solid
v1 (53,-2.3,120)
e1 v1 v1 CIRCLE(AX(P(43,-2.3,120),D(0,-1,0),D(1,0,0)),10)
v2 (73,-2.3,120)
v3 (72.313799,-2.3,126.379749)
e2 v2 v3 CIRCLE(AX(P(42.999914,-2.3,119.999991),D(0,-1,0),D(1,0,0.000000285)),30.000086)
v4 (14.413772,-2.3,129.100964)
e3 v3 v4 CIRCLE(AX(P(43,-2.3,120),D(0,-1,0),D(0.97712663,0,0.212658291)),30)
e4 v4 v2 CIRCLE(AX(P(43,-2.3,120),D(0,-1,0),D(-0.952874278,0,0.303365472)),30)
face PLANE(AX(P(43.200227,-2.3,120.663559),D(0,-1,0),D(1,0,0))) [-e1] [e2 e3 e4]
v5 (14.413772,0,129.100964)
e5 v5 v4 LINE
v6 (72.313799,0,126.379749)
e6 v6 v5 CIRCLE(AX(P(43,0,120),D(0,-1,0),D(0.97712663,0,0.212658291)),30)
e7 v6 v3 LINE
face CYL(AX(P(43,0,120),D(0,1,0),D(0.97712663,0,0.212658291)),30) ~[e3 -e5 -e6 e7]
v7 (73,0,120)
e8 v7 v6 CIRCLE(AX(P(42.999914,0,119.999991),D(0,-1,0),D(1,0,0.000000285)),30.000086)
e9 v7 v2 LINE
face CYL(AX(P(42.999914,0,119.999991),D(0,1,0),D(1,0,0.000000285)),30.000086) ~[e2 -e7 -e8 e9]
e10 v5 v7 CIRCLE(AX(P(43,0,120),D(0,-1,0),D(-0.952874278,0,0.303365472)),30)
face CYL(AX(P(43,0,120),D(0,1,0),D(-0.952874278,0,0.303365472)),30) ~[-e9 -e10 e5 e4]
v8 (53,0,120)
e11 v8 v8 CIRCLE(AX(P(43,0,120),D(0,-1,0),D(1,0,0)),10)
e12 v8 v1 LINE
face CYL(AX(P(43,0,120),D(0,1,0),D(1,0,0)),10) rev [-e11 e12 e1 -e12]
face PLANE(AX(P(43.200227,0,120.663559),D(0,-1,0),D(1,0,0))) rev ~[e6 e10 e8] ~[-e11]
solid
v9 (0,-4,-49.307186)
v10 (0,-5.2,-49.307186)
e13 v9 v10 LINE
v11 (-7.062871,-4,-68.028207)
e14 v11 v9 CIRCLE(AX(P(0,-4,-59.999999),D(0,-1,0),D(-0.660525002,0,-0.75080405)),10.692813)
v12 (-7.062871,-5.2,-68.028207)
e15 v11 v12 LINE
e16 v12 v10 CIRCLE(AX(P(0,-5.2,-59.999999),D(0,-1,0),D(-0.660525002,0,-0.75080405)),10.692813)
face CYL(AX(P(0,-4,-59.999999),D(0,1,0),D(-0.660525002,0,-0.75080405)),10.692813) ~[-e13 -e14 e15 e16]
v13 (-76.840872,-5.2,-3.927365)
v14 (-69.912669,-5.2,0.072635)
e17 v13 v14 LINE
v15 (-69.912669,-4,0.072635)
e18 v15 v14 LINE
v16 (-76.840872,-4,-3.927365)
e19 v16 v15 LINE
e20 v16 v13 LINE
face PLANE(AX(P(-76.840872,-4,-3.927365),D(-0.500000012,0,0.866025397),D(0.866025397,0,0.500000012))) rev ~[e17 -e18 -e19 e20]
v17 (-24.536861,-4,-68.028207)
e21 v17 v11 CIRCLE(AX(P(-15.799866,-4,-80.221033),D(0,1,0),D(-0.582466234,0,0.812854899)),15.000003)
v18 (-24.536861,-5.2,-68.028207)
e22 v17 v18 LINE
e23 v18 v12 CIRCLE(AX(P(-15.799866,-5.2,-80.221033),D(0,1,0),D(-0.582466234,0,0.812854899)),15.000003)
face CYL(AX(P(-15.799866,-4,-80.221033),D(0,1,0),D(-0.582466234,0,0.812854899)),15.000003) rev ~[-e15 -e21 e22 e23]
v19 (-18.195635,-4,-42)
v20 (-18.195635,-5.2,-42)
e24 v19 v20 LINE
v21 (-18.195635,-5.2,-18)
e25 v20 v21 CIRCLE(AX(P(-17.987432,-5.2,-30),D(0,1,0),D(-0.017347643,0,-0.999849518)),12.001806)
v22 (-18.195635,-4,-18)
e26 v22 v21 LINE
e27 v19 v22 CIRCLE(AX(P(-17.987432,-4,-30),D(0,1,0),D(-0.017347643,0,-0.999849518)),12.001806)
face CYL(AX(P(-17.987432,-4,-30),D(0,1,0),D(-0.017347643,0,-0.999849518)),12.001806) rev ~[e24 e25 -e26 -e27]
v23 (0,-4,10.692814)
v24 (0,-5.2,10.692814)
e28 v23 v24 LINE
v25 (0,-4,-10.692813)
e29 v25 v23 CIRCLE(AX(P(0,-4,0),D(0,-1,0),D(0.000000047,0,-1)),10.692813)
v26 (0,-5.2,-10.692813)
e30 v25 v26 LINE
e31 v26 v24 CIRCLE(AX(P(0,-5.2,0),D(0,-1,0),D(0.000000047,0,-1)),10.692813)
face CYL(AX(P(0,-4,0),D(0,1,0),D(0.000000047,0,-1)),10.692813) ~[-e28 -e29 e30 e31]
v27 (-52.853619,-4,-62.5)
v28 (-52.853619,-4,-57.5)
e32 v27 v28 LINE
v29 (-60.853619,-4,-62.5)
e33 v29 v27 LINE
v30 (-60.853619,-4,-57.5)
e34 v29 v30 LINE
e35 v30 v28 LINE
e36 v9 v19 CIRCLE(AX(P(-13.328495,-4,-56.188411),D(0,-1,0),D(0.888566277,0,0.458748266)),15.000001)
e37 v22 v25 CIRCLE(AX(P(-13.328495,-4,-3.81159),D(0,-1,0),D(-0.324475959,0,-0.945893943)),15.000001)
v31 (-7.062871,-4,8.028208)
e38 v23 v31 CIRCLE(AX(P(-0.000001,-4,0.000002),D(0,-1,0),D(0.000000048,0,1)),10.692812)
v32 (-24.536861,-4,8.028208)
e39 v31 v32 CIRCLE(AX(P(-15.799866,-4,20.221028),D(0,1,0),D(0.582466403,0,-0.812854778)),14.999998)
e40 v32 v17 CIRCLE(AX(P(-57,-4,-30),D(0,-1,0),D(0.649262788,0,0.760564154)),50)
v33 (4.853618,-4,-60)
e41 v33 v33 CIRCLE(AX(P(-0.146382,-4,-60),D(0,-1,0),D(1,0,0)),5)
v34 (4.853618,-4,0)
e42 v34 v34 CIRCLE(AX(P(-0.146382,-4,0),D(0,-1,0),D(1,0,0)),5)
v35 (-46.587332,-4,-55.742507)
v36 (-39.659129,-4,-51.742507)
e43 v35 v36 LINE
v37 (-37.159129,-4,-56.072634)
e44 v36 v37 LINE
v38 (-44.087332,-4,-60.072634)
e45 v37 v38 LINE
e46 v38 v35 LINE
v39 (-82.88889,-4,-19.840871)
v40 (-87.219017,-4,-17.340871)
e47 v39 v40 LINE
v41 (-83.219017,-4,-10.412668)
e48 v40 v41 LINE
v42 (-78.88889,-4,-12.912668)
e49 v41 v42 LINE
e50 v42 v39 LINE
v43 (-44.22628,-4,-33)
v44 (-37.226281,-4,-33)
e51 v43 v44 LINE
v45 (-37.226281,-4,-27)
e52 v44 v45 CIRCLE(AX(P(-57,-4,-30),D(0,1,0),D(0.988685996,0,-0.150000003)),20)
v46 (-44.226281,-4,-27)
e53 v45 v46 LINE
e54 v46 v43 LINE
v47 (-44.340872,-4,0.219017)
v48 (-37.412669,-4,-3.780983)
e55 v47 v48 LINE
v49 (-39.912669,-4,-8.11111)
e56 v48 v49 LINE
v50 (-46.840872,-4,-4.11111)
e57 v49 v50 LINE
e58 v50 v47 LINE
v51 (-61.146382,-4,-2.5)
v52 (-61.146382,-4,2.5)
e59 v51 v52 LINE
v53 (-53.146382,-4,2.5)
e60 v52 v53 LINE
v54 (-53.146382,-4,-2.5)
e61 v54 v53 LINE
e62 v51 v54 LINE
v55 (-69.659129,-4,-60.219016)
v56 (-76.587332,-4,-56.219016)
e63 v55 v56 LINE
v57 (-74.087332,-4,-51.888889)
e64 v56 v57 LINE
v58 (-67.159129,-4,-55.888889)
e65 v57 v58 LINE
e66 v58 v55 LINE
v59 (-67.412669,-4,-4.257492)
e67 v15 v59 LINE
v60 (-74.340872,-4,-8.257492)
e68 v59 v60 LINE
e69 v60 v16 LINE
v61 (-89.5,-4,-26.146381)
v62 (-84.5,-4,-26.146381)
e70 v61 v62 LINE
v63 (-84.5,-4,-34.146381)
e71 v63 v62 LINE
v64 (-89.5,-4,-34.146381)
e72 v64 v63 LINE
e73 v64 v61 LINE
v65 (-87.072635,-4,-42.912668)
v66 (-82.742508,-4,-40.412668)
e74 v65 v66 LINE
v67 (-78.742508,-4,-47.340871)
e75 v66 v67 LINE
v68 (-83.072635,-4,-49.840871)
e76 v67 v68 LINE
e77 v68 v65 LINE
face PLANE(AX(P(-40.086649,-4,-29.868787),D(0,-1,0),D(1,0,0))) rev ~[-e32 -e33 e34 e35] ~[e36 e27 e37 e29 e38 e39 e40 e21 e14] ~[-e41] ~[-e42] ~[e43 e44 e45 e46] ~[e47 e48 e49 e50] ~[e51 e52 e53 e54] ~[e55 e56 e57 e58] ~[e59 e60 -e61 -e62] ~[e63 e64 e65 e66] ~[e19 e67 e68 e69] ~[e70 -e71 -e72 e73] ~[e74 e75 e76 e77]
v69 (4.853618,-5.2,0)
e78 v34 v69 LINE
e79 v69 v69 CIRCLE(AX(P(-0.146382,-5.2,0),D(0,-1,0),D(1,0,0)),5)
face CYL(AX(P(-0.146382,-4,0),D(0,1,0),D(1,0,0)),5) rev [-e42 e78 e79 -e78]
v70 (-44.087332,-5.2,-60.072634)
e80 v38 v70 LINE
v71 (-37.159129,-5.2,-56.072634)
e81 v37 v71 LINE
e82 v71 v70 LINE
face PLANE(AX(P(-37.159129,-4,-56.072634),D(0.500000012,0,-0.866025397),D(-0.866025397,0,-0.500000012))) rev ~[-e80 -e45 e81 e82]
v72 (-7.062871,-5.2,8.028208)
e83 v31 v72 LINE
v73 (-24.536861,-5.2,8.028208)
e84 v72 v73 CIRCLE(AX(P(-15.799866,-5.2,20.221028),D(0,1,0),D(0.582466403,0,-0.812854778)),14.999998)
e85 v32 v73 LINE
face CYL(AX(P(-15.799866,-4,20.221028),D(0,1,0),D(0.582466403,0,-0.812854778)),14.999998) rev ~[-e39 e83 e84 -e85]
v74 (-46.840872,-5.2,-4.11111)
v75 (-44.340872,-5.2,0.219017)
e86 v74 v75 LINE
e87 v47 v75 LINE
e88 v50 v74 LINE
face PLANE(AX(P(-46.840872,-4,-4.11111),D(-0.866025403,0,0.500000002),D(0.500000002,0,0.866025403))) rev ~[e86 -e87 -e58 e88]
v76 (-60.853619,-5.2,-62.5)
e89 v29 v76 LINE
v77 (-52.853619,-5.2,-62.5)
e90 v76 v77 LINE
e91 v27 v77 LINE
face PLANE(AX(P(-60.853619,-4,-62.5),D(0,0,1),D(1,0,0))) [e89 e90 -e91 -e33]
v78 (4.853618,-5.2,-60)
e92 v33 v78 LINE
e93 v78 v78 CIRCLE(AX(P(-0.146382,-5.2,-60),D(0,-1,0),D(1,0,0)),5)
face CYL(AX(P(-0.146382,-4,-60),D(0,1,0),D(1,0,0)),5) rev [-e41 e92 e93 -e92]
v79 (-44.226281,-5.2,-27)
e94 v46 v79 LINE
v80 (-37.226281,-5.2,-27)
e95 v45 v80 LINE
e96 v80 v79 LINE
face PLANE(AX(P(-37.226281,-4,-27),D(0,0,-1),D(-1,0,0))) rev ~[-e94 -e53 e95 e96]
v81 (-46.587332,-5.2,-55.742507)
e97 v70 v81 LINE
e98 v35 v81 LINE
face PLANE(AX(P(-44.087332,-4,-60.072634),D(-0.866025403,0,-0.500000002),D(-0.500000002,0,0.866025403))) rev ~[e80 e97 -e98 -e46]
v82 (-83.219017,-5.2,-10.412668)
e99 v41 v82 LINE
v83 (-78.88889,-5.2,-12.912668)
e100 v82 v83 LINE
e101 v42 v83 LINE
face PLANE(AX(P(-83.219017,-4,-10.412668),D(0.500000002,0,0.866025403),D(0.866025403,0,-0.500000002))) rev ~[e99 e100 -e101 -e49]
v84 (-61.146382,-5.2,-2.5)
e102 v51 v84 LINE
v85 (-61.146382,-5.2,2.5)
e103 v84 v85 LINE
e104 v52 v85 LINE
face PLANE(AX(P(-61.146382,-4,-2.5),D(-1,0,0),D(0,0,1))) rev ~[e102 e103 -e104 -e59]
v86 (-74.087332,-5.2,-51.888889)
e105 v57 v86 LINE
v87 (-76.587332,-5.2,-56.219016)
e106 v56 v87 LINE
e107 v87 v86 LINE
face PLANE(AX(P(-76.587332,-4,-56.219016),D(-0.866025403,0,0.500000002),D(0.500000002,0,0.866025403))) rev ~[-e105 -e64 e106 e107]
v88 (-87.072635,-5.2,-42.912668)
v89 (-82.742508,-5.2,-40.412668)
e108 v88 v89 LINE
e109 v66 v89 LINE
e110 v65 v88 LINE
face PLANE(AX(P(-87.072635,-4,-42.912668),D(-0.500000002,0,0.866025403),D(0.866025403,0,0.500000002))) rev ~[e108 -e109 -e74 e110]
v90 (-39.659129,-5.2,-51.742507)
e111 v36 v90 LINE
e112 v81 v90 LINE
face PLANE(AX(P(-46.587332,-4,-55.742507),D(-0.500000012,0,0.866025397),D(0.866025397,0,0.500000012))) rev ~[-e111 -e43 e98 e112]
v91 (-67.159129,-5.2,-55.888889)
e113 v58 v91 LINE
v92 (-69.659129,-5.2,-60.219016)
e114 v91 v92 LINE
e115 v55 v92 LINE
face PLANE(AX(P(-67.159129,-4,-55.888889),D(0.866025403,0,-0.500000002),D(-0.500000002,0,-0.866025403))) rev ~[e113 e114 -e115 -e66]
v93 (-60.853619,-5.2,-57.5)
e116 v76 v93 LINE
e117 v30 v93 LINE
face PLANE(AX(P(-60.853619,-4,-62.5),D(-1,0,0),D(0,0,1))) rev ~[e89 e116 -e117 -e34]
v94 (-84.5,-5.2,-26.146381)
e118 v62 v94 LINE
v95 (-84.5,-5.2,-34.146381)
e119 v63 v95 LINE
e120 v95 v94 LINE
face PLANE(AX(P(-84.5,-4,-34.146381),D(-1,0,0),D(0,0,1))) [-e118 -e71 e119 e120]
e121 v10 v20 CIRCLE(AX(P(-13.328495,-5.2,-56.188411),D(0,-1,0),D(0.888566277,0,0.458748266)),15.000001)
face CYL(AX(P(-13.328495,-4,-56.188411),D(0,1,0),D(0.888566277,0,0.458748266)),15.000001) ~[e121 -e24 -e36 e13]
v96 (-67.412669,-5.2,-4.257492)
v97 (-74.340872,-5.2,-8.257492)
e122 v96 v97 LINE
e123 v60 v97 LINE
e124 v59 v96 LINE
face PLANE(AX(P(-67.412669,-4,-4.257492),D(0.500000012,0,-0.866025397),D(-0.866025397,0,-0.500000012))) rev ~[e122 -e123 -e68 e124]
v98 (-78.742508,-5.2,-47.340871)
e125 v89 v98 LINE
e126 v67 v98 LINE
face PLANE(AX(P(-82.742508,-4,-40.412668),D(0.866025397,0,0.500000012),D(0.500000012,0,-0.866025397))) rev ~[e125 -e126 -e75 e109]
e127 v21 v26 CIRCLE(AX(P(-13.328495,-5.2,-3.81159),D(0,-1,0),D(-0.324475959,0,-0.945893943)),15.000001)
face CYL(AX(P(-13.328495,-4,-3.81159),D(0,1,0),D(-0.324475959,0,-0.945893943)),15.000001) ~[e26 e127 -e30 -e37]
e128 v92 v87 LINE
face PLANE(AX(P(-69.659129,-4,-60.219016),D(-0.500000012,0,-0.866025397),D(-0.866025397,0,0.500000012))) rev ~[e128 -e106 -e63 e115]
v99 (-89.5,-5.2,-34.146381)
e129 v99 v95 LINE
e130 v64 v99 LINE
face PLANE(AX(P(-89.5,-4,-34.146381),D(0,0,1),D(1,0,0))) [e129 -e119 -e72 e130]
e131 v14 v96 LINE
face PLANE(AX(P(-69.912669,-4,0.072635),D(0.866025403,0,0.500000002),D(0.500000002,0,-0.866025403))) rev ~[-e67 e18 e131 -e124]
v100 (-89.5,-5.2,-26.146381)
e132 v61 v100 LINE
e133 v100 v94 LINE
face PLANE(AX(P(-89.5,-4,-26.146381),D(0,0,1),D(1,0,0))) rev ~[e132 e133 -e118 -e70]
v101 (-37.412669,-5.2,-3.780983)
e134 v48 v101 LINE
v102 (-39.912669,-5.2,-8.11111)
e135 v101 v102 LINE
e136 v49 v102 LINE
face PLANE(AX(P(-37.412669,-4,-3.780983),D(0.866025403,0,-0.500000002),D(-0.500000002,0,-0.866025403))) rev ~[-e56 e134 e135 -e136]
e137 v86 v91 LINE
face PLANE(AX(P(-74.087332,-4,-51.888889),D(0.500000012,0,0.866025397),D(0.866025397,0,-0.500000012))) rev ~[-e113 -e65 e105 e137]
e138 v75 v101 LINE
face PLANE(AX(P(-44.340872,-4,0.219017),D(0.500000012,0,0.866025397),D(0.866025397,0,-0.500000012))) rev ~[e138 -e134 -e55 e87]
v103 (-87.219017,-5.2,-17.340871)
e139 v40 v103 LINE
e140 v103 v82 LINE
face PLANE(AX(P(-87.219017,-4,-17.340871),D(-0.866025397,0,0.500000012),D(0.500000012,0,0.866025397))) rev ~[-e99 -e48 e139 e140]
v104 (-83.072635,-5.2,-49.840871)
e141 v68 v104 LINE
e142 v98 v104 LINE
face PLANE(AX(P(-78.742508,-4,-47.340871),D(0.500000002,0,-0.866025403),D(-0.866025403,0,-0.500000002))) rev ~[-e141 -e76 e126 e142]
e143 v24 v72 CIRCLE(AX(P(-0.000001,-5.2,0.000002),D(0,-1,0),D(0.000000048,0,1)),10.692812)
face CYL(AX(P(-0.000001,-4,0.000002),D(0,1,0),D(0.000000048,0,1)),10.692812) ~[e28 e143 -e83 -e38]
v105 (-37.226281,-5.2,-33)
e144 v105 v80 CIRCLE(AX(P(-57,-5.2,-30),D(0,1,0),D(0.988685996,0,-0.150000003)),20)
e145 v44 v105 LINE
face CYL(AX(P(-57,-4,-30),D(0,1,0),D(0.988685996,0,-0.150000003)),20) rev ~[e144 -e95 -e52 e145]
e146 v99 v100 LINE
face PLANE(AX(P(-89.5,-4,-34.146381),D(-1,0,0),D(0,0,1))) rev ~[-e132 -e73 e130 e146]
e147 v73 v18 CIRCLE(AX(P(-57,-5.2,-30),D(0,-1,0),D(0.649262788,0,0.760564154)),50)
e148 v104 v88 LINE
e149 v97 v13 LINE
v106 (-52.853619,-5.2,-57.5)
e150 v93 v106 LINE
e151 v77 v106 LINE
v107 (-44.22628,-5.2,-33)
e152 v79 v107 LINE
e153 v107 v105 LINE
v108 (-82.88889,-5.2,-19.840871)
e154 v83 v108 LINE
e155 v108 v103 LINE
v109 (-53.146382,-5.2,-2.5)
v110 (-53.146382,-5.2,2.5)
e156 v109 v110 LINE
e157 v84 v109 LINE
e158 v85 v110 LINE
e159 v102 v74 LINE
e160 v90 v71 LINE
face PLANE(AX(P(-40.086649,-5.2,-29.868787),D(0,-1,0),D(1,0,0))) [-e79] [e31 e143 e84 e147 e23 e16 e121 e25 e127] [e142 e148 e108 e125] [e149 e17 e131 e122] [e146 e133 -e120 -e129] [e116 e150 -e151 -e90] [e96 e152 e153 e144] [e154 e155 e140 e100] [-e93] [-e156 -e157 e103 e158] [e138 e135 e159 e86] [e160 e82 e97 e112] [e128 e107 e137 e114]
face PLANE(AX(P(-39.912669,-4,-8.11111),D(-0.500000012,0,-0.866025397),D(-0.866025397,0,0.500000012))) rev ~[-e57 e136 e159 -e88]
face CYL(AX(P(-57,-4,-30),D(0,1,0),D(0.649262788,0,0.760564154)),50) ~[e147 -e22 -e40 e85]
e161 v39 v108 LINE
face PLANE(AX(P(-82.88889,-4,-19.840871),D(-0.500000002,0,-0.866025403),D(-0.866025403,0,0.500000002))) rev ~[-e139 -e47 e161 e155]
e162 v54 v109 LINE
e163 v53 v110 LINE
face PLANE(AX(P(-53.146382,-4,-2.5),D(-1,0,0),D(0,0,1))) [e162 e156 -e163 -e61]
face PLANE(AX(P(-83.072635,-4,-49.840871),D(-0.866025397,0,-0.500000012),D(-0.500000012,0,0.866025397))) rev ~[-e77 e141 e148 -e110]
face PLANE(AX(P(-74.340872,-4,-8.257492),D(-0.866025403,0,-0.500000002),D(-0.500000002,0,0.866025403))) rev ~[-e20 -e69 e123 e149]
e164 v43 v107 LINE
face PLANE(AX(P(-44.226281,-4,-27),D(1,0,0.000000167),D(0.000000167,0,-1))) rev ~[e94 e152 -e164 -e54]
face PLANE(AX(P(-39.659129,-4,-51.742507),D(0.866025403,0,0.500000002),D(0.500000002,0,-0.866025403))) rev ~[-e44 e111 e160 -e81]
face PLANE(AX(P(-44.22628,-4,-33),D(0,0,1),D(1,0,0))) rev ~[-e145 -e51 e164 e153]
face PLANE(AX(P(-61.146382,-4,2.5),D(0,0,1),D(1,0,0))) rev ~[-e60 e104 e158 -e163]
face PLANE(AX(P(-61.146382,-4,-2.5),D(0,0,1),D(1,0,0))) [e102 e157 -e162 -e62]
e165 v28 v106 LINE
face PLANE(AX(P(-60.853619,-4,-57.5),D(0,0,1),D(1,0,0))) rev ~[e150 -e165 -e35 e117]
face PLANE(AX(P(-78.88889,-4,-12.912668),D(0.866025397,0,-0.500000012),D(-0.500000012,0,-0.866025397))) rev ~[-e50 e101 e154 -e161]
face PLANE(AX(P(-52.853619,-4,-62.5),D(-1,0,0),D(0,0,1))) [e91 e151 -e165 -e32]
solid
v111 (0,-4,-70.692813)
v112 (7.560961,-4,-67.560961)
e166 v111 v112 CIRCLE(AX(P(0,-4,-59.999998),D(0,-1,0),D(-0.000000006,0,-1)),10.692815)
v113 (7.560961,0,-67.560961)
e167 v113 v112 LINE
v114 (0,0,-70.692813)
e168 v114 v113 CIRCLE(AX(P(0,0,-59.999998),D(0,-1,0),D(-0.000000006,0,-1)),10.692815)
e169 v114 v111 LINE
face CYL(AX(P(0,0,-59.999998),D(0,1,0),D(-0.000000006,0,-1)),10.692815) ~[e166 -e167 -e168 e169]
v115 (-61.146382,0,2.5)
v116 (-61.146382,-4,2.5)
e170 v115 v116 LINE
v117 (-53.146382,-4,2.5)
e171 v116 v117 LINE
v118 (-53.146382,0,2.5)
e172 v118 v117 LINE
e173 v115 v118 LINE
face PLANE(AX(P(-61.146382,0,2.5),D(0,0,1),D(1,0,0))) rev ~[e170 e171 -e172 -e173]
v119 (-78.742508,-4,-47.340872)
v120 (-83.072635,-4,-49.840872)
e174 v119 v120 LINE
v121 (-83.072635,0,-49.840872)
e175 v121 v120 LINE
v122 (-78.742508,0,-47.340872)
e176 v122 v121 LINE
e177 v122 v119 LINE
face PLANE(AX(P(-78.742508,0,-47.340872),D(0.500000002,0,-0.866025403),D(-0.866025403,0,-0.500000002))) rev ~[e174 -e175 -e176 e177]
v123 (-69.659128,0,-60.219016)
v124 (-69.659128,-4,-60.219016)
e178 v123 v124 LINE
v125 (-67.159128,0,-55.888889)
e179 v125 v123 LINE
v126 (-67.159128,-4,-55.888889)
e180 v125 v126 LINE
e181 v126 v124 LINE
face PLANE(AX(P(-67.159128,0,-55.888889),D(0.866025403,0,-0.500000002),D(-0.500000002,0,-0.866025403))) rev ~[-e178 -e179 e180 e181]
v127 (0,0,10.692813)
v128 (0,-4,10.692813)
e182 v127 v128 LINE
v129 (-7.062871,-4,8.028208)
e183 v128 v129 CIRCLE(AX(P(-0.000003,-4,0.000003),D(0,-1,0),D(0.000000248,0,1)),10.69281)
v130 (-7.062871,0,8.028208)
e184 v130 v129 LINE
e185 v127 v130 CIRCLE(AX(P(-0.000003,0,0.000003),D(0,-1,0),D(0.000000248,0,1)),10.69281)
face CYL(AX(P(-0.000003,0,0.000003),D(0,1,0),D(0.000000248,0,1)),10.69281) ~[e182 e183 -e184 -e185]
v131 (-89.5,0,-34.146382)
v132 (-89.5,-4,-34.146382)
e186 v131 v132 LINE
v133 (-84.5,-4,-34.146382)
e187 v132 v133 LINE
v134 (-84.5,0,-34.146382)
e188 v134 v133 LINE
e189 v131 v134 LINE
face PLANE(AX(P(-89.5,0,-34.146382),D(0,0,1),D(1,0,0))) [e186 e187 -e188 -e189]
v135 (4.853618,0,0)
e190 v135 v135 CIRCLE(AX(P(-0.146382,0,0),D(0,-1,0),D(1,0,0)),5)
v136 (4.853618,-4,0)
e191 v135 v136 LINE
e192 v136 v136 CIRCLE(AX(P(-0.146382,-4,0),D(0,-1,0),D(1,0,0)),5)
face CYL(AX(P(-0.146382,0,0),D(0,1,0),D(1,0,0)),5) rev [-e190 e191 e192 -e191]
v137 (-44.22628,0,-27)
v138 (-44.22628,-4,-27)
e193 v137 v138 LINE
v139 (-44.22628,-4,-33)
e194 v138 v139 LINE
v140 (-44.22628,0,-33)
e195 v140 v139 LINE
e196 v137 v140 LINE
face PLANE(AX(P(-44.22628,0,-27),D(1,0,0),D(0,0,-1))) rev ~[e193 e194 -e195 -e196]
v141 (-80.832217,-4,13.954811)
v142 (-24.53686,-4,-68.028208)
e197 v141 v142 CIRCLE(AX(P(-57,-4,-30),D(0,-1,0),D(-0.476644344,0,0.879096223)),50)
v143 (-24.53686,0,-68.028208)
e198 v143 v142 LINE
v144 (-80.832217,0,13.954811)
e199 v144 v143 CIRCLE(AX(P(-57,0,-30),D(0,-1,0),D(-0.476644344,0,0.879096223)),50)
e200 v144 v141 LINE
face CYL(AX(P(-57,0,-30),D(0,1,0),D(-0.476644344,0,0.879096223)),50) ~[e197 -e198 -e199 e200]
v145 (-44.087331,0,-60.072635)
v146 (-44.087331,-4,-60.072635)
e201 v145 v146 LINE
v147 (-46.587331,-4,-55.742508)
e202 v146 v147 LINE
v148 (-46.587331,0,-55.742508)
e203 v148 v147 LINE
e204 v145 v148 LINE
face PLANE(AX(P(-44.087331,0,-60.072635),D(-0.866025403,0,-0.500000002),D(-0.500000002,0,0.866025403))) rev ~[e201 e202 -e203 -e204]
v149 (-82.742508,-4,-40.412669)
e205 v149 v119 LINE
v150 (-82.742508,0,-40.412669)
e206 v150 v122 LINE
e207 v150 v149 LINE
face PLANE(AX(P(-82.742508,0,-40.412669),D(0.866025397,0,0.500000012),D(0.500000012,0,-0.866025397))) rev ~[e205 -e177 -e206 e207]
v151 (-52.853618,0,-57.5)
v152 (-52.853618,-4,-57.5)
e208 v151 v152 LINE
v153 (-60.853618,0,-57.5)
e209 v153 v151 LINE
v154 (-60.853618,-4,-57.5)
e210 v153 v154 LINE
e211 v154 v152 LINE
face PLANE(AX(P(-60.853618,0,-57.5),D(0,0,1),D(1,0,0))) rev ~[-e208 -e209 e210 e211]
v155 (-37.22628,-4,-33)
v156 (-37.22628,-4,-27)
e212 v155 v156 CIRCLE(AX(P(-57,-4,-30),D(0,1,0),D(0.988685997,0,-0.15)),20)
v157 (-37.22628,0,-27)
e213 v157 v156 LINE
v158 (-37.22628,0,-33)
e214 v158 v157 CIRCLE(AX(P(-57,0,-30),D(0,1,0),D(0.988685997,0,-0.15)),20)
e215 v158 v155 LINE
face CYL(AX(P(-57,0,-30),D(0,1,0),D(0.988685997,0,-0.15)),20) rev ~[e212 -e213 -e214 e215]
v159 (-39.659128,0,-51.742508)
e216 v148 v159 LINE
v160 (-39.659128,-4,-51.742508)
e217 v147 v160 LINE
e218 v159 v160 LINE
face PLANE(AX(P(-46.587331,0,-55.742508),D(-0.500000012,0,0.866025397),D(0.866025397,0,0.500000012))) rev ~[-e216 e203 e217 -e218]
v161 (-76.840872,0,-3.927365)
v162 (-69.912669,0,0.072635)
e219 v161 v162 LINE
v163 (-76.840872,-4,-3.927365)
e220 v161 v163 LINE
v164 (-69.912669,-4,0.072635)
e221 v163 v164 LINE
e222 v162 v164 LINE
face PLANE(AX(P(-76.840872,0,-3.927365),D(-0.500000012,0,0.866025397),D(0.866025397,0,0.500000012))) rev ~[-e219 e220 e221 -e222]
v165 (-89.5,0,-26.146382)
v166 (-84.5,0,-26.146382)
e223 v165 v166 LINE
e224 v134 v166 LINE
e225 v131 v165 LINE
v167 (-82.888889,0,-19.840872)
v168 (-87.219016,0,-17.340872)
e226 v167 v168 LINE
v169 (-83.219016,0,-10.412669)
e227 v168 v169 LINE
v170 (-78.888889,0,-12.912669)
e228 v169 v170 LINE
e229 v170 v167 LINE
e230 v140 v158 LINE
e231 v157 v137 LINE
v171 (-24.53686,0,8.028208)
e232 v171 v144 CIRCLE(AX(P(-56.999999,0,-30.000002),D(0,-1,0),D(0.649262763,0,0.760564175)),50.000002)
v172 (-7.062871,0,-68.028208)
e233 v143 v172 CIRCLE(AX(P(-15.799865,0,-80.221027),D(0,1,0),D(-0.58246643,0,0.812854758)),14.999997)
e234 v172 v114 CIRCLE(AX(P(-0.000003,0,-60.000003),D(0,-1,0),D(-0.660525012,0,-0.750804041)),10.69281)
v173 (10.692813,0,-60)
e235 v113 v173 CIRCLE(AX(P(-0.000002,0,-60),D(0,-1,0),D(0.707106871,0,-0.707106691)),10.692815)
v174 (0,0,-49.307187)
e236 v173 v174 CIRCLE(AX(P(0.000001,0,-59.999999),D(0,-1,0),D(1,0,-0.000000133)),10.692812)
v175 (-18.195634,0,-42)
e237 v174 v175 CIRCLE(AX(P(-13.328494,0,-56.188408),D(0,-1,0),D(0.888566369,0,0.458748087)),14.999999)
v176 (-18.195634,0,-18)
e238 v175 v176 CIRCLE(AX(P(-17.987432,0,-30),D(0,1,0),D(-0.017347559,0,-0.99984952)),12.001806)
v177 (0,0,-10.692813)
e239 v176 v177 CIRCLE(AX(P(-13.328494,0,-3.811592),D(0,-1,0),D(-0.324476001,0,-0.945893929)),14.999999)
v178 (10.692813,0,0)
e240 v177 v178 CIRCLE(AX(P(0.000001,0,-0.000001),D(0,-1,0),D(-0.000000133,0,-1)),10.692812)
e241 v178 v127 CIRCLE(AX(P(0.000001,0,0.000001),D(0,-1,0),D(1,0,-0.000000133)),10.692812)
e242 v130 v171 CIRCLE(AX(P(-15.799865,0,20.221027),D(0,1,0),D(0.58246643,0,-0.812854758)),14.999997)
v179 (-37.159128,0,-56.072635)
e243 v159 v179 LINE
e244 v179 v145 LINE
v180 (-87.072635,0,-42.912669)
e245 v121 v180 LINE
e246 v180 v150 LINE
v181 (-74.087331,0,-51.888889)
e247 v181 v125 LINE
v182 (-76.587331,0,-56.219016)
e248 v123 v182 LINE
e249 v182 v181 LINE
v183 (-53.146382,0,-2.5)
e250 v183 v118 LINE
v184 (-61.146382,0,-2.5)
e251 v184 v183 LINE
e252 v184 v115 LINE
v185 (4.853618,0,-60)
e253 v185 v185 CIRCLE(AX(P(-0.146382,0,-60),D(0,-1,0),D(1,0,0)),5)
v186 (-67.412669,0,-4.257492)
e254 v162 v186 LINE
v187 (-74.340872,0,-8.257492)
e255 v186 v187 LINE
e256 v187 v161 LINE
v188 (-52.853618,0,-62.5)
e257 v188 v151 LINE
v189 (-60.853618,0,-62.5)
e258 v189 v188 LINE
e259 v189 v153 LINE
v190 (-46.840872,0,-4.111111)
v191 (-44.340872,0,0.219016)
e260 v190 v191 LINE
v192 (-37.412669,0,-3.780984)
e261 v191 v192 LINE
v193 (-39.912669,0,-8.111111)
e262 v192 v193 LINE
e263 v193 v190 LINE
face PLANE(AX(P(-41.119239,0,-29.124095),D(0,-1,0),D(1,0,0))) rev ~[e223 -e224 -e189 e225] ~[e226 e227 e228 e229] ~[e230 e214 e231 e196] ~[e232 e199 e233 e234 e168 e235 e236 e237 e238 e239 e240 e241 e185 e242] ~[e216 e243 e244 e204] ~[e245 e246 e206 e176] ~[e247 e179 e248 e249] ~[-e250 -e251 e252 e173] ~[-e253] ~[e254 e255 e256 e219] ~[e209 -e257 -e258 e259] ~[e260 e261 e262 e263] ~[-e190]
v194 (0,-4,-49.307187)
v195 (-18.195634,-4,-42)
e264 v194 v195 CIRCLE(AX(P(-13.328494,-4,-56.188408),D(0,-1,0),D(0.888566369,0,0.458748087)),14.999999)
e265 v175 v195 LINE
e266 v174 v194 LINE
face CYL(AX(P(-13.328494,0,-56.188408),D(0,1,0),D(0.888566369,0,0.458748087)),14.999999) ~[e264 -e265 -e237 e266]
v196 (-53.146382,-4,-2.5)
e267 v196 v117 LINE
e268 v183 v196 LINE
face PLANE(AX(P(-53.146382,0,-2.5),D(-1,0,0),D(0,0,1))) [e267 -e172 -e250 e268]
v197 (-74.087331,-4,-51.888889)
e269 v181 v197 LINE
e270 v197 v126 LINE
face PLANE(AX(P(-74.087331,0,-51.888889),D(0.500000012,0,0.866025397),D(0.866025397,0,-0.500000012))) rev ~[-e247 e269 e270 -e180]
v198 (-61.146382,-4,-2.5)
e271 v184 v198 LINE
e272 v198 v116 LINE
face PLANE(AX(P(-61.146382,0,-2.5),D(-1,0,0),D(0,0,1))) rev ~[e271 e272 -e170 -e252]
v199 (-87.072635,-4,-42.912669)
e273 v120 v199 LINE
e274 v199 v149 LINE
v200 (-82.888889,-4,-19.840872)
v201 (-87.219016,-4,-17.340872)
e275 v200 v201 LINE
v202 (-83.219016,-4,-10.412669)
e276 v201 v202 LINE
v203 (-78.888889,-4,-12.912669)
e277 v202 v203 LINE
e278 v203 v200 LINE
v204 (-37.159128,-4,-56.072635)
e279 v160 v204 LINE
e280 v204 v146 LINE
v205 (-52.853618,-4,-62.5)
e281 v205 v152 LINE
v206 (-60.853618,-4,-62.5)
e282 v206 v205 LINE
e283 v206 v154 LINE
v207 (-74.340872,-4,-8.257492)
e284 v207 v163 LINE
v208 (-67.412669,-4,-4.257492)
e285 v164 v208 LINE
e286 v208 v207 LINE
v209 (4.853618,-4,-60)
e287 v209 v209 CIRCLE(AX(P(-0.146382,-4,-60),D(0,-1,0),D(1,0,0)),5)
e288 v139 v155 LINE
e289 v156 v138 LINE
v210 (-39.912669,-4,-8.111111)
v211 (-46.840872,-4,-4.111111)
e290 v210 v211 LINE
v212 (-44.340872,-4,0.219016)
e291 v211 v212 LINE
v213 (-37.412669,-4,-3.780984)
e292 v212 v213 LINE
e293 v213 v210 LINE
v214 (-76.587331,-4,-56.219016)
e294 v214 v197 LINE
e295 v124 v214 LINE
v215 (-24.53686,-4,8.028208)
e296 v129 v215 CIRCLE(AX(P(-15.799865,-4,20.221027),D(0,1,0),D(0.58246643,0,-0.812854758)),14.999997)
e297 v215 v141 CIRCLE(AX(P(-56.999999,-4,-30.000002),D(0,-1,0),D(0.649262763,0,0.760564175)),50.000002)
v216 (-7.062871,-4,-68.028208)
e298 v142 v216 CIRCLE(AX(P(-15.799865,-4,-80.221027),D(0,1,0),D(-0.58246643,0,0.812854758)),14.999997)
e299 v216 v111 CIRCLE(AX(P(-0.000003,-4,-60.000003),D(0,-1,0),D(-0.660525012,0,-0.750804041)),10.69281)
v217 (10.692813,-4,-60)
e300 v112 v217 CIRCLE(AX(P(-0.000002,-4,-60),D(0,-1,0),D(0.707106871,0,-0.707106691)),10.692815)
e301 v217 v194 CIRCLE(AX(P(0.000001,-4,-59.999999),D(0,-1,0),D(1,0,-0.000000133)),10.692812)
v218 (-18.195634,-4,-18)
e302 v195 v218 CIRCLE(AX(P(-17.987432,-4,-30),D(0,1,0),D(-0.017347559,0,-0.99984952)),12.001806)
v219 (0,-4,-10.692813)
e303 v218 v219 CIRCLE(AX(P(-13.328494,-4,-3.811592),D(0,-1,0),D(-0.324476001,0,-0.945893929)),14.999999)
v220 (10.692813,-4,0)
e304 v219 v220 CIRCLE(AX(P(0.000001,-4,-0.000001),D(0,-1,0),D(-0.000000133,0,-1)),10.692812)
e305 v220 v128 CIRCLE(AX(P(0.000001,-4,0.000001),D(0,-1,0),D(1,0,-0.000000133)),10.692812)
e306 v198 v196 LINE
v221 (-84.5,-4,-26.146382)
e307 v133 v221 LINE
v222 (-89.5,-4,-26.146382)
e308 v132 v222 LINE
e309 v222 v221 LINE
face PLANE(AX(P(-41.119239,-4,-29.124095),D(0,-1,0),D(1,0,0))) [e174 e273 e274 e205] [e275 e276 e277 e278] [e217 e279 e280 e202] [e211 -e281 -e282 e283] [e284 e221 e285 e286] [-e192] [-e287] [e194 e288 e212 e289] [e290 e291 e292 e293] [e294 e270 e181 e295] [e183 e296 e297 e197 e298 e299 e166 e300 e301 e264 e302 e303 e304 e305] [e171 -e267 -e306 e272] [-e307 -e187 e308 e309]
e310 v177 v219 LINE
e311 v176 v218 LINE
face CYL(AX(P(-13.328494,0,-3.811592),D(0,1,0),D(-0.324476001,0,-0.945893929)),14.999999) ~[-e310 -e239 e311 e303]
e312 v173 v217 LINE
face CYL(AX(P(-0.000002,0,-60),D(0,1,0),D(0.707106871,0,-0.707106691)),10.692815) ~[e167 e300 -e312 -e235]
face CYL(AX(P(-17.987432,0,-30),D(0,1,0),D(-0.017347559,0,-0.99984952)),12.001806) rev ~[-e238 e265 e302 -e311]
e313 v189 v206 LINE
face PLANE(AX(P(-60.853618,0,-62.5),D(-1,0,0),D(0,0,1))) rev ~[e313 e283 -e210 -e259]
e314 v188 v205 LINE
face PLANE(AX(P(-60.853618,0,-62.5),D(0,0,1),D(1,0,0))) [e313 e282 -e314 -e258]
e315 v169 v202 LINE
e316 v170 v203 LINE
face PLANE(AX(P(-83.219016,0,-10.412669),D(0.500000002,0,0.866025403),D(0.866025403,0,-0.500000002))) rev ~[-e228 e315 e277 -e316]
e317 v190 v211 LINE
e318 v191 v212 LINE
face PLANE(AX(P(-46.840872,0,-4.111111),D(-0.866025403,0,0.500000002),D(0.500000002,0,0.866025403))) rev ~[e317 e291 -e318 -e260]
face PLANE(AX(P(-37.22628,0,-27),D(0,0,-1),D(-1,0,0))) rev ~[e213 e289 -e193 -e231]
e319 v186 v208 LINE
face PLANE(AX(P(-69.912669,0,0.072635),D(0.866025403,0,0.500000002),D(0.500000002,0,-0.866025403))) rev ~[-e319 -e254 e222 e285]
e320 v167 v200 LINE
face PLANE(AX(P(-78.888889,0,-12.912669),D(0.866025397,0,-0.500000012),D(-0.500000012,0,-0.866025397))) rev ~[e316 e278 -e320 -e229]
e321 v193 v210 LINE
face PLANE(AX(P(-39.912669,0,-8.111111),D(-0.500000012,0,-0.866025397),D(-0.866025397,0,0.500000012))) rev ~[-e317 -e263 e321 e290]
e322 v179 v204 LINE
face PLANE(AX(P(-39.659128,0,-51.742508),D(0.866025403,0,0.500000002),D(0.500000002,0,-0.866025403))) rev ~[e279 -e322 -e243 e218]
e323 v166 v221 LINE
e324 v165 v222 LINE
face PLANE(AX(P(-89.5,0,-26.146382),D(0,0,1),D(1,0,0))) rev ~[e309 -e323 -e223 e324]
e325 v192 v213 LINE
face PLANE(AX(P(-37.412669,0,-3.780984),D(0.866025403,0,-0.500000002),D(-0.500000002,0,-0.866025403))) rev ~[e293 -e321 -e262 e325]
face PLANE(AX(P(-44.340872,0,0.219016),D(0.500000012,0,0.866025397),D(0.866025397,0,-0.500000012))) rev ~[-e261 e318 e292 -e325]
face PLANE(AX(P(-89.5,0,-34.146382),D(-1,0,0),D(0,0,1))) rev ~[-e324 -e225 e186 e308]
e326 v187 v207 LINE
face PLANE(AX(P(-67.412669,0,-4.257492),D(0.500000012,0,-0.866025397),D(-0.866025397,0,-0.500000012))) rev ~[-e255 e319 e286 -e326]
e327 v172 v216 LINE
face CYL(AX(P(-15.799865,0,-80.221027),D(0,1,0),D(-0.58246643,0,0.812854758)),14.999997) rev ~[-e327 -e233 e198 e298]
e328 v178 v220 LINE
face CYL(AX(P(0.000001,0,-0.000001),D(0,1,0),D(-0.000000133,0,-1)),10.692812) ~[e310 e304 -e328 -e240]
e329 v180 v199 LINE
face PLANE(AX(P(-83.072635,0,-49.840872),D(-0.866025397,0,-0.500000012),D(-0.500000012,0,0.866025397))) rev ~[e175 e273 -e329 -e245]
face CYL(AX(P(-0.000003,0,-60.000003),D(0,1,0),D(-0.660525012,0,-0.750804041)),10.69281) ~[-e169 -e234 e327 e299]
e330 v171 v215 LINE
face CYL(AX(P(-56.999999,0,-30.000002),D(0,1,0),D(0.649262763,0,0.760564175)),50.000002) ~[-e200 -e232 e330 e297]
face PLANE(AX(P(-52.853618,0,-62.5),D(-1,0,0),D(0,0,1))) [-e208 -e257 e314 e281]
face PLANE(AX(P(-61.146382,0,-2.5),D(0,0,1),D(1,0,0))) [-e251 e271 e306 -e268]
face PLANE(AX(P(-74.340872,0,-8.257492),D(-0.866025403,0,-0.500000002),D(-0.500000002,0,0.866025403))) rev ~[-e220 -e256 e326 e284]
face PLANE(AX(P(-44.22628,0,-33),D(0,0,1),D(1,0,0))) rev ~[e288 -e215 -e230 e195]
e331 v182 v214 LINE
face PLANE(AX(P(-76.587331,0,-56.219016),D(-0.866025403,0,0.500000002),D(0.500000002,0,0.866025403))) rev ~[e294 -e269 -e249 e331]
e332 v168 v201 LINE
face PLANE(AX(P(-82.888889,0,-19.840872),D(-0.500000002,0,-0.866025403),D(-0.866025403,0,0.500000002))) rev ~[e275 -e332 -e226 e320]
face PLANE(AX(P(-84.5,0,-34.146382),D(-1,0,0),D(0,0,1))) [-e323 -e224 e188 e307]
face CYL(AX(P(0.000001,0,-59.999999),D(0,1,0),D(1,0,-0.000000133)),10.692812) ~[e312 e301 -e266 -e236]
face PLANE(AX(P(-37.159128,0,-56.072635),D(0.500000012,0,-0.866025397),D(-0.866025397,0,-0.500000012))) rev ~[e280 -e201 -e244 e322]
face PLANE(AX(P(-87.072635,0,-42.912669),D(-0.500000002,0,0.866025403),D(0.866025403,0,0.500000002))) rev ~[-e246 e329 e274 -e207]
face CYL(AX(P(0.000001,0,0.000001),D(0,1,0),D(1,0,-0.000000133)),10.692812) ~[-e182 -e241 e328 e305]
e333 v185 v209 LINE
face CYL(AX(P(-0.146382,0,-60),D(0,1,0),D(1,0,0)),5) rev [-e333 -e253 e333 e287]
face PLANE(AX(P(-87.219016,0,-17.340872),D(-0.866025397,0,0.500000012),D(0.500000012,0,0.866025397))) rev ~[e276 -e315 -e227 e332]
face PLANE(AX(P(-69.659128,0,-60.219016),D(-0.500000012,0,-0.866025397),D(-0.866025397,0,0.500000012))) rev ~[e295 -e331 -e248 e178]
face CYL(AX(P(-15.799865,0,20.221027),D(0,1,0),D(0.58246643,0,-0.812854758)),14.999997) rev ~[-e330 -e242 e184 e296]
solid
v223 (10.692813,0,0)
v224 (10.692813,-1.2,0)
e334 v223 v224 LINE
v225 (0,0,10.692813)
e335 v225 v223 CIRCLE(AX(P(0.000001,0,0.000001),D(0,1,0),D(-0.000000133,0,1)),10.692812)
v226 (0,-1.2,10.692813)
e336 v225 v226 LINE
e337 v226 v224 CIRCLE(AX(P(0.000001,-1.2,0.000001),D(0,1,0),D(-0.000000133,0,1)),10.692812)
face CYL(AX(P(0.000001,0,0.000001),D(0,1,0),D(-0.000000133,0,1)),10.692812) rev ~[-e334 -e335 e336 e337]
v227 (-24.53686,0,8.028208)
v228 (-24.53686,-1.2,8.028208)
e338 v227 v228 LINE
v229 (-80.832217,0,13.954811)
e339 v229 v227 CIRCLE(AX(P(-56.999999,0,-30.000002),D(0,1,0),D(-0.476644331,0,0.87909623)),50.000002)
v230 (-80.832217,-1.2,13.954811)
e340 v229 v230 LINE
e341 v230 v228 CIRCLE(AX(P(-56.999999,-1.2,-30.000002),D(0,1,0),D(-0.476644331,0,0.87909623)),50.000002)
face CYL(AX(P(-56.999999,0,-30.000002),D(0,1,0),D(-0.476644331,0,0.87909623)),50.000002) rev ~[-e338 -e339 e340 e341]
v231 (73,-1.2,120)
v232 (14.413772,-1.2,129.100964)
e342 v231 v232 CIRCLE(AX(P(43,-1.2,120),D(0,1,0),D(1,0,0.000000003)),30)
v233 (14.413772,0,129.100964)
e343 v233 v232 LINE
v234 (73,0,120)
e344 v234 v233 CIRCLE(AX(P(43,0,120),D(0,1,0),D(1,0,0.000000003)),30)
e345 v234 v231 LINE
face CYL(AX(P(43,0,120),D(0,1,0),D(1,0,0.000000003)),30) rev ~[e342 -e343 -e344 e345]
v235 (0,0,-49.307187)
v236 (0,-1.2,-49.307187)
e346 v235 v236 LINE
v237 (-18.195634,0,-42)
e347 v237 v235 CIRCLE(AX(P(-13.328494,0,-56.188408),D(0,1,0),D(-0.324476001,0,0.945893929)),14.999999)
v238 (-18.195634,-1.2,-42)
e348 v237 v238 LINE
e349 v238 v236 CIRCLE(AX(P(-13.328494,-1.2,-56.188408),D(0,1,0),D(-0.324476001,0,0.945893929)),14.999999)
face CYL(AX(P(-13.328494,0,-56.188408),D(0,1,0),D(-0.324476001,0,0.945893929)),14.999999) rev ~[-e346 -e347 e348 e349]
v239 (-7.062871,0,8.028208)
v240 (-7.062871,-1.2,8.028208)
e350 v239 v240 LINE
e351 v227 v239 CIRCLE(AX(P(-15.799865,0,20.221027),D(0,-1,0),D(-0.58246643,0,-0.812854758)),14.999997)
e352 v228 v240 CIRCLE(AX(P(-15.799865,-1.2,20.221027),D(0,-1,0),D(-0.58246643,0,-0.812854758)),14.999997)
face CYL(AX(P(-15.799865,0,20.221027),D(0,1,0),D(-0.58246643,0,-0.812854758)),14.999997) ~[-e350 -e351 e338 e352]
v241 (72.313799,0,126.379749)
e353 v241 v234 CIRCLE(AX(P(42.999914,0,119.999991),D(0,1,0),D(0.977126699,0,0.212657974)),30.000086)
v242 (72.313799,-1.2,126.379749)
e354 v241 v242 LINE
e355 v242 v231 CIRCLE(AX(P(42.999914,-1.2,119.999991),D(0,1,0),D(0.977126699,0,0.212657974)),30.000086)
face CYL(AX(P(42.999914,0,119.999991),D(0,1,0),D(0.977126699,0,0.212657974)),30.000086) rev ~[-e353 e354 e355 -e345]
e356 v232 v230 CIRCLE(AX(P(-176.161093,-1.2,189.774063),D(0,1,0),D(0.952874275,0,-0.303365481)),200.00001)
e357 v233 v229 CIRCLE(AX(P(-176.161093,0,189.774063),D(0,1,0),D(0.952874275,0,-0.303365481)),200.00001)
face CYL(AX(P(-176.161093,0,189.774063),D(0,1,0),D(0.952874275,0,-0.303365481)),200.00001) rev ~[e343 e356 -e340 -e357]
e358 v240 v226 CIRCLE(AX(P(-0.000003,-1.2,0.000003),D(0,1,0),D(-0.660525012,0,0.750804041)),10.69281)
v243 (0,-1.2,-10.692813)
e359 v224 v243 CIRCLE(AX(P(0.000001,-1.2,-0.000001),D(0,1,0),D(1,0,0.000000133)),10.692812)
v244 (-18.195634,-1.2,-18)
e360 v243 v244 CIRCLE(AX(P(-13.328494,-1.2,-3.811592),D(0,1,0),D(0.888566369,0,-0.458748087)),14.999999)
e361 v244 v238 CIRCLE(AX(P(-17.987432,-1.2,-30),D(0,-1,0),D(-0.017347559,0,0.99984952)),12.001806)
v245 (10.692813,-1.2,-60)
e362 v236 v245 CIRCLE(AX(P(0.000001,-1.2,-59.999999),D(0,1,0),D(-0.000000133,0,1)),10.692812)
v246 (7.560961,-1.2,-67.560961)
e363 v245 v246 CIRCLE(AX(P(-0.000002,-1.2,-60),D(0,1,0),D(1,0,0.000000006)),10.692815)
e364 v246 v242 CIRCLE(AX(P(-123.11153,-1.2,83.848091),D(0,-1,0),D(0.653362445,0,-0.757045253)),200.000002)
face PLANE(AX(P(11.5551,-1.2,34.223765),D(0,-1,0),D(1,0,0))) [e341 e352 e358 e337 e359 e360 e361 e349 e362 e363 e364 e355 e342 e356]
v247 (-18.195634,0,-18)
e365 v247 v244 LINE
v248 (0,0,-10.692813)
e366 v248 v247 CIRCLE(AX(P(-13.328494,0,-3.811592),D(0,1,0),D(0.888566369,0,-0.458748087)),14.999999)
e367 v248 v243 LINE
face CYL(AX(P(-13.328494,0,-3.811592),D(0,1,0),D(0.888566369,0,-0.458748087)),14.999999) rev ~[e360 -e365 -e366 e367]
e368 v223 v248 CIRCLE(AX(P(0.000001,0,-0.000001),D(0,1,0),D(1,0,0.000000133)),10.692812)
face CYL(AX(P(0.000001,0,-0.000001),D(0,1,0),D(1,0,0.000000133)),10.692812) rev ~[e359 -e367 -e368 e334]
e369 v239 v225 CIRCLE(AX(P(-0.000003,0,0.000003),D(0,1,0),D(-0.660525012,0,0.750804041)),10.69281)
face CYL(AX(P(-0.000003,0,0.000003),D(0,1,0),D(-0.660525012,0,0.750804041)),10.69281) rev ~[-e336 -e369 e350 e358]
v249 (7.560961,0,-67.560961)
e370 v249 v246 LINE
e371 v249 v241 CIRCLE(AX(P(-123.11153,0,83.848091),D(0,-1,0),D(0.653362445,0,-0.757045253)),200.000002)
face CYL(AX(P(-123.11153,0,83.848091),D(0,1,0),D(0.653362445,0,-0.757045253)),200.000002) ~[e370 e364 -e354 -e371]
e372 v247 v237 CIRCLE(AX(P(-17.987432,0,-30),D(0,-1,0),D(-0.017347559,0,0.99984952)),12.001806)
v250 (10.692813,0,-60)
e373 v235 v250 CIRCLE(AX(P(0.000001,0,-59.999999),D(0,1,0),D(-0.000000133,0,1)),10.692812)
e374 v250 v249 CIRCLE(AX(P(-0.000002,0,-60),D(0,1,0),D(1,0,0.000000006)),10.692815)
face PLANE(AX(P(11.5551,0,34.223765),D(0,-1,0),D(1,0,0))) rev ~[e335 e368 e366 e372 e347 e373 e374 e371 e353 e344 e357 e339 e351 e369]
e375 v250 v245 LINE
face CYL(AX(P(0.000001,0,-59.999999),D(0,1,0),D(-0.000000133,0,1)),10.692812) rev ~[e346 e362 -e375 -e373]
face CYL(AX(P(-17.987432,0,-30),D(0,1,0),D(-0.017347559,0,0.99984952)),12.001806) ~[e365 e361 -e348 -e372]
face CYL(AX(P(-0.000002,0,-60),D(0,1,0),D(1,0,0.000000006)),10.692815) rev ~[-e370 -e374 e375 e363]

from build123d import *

# Parameters (mm, degrees)
F0_R        = 10
F1_DEPTH    = 2.3
F0_W        = 5
F0_H        = 8
F0_W_2      = 8
F0_H_2      = 5
F0_R_2      = 5
F2_DEPTH    = 4
F2_FACE_W   = 5
F2_FACE_H   = 8
F2_FACE_W_2 = 8
F2_FACE_H_2 = 5
F2_FACE_R   = 5
F3_DEPTH    = 1.2


with BuildPart() as f1:
    # F0 (on Front) → F1 (new body)
    with BuildSketch(Plane.XZ):
        with BuildLine():
            ThreePointArc((72.313799, 126.379749), (44.408401, 149.966922), (14.413772, 129.100964))
            ThreePointArc((14.413772, 129.100964), (38.39494, 90.35555), (73, 120))
            ThreePointArc((73, 120), (72.827956, 123.208273), (72.313799, 126.379749))
        make_face()
        with Locations((43, 120)):
            Circle(F0_R, mode=Mode.SUBTRACT)
    extrude(amount=F1_DEPTH)


with BuildPart() as f2:
    # F0 (on Front) → F2 (new body)
    with BuildSketch(Plane.XZ):
        with BuildLine():
            ThreePointArc((-7.062871, 8.028208), (-15.799866, 5.22103), (-24.53686, 8.028208))
            ThreePointArc((-24.53686, 8.028208), (-51.765082, 19.725201), (-80.832217, 13.954811))
            ThreePointArc((-80.832217, 13.954811), (-98.218043, -58.303232), (-24.53686, -68.028208))
            ThreePointArc((-24.53686, -68.028208), (-15.799866, -65.22103), (-7.062871, -68.028208))
            ThreePointArc((-7.062871, -68.028208), (-3.774396, -70.004509), (0, -70.692813))
            ThreePointArc((0, -70.692813), (4.091963, -69.878871), (7.560961, -67.560961))
            ThreePointArc((7.560961, -67.560961), (9.878871, -64.091963), (10.692813, -60))
            ThreePointArc((10.692813, -60), (7.560961, -52.439039), (0, -49.307187))
            ThreePointArc((0, -49.307187), (-7.738559, -42.268904), (-18.195634, -42))
            ThreePointArc((-18.195634, -42), (-29.989238, -30), (-18.195634, -18))
            ThreePointArc((-18.195634, -18), (-7.738559, -17.731096), (0, -10.692813))
            ThreePointArc((0, -10.692813), (7.560961, -7.560961), (10.692813, 0))
            ThreePointArc((10.692813, 0), (7.560961, 7.560961), (0, 10.692813))
            ThreePointArc((0, 10.692813), (-3.774396, 10.004509), (-7.062871, 8.028208))
        make_face()
        Polygon((-67.159128, -55.888889), (-69.659128, -60.219016), (-76.587331, -56.219016), (-74.087331, -51.888889), align=None, mode=Mode.SUBTRACT)
        with Locations((-87, -30.146382)):
            Rectangle(F0_W, F0_H, mode=Mode.SUBTRACT)
        Polygon((-78.742508, -47.340872), (-83.072635, -49.840872), (-87.072635, -42.912669), (-82.742508, -40.412669), align=None, mode=Mode.SUBTRACT)
        with Locations((-56.853618, -60)):
            Rectangle(F0_W_2, F0_H_2, mode=Mode.SUBTRACT)
        Polygon((-39.659128, -51.742508), (-37.159128, -56.072635), (-44.087331, -60.072635), (-46.587331, -55.742508), align=None, mode=Mode.SUBTRACT)
        with BuildLine():
            ThreePointArc((-37.22628, -33), (-77, -30), (-37.22628, -27))
            Line((-37.22628, -27), (-44.22628, -27))
            Line((-44.22628, -27), (-44.22628, -33))
            Line((-44.22628, -33), (-37.22628, -33))
        make_face(mode=Mode.SUBTRACT)
        Polygon((-82.888889, -19.840872), (-87.219016, -17.340872), (-83.219016, -10.412669), (-78.888889, -12.912669), align=None, mode=Mode.SUBTRACT)
        Polygon((-74.340872, -8.257492), (-76.840872, -3.927365), (-69.912669, 0.072635), (-67.412669, -4.257492), align=None, mode=Mode.SUBTRACT)
        with Locations((-57.146382, 0)):
            Rectangle(F0_W_2, F0_H_2, mode=Mode.SUBTRACT)
        Polygon((-46.840872, -4.111111), (-44.340872, 0.219016), (-37.412669, -3.780984), (-39.912669, -8.111111), align=None, mode=Mode.SUBTRACT)
        with Locations((-0.146382, -60)):
            Circle(F0_R_2, mode=Mode.SUBTRACT)
        with Locations((-0.146382, 0)):
            Circle(F0_R_2, mode=Mode.SUBTRACT)
    extrude(amount=F2_DEPTH)


with BuildPart() as f3:
    # F0 (on Front) + F2_face (on face) → F3 (new body)
    with BuildSketch(Plane.XZ):
        with BuildLine():
            ThreePointArc((-80.832217, 13.954811), (-51.765082, 19.725201), (-24.53686, 8.028208))
            ThreePointArc((-24.53686, 8.028208), (-15.799866, 5.22103), (-7.062871, 8.028208))
            ThreePointArc((-7.062871, 8.028208), (-3.774396, 10.004509), (0, 10.692813))
            ThreePointArc((0, 10.692813), (7.560961, 7.560961), (10.692813, 0))
            ThreePointArc((10.692813, 0), (7.560961, -7.560961), (0, -10.692813))
            ThreePointArc((0, -10.692813), (-7.738559, -17.731096), (-18.195634, -18))
            ThreePointArc((-18.195634, -18), (-29.989238, -30), (-18.195634, -42))
            ThreePointArc((-18.195634, -42), (-7.738559, -42.268904), (0, -49.307187))
            ThreePointArc((0, -49.307187), (7.560961, -52.439039), (10.692813, -60))
            ThreePointArc((10.692813, -60), (9.878871, -64.091963), (7.560961, -67.560961))
            ThreePointArc((7.560961, -67.560961), (66.594023, 20.509286), (72.313799, 126.379749))
            ThreePointArc((72.313799, 126.379749), (72.827956, 123.208273), (73, 120))
            ThreePointArc((73, 120), (38.39494, 90.35555), (14.413772, 129.100964))
            ThreePointArc((14.413772, 129.100964), (-22.051079, 62.298153), (-80.832217, 13.954811))
        make_face()
    with BuildSketch(Plane(origin=(-52.186771, -4, -29.997608), x_dir=(1, 0, 0), z_dir=(0, -1, 0))):
        with BuildLine():
            ThreePointArc((33.991136, -12.002392), (22.197533, -0.002392), (33.991136, 11.997608))
            ThreePointArc((33.991136, 11.997608), (44.448211, 12.266512), (52.186771, 19.304795))
            ThreePointArc((52.186771, 19.304795), (62.879584, 29.997608), (52.186771, 40.690422))
            ThreePointArc((52.186771, 40.690422), (48.412374, 40.002117), (45.1239, 38.025816))
            ThreePointArc((45.1239, 38.025816), (36.386905, 35.218638), (27.64991, 38.025816))
            ThreePointArc((27.64991, 38.025816), (-54.813229, -0.002392), (27.64991, -38.030599))
            ThreePointArc((27.64991, -38.030599), (36.386905, -35.223422), (45.1239, -38.030599))
            ThreePointArc((45.1239, -38.030599), (62.191279, -33.776788), (52.186771, -19.309578))
            ThreePointArc((52.186771, -19.309578), (44.448211, -12.271296), (33.991136, -12.002392))
        make_face()
        Polygon((-24.400561, -26.221408), (-21.900561, -21.891281), (-14.972358, -25.891281), (-17.472358, -30.221408), align=None, mode=Mode.SUBTRACT)
        with Locations((-34.813229, -0.148773)):
            Rectangle(F2_FACE_W, F2_FACE_H, mode=Mode.SUBTRACT)
        Polygon((-26.555737, -17.343263), (-30.885864, -19.843263), (-34.885864, -12.91506), (-30.555737, -10.41506), align=None, mode=Mode.SUBTRACT)
        with Locations((-4.666848, -30.002392)):
            Rectangle(F2_FACE_W_2, F2_FACE_H_2, mode=Mode.SUBTRACT)
        Polygon((8.099439, -30.075026), (5.599439, -25.744899), (12.527642, -21.744899), (15.027642, -26.075026), align=None, mode=Mode.SUBTRACT)
        with BuildLine():
            ThreePointArc((14.96049, -3.002392), (-24.813229, -0.002392), (14.96049, 2.997608))
            Line((14.96049, 2.997608), (7.96049, 2.997608))
            Line((7.96049, 2.997608), (7.960491, -3.002392))
            Line((7.960491, -3.002392), (14.96049, -3.002392))
        make_face(mode=Mode.SUBTRACT)
        Polygon((-35.032246, 12.656737), (-31.032246, 19.58494), (-26.702119, 17.08494), (-30.702119, 10.156737), align=None, mode=Mode.SUBTRACT)
        Polygon((-17.725898, 30.070243), (-15.225898, 25.740116), (-22.154101, 21.740116), (-24.654101, 26.070243), align=None, mode=Mode.SUBTRACT)
        with Locations((-4.959611, 29.997608)):
            Rectangle(F2_FACE_W_2, F2_FACE_H_2, mode=Mode.SUBTRACT)
        Polygon((12.274102, 21.886498), (5.345899, 25.886498), (7.845899, 30.216625), (14.774102, 26.216625), align=None, mode=Mode.SUBTRACT)
        with Locations((52.040389, -30.002392)):
            Circle(F2_FACE_R, mode=Mode.SUBTRACT)
        with Locations((52.040389, 29.997608)):
            Circle(F2_FACE_R, mode=Mode.SUBTRACT)
    extrude(amount=F3_DEPTH)


solid = Compound([f1.part, f2.part, f3.part])
